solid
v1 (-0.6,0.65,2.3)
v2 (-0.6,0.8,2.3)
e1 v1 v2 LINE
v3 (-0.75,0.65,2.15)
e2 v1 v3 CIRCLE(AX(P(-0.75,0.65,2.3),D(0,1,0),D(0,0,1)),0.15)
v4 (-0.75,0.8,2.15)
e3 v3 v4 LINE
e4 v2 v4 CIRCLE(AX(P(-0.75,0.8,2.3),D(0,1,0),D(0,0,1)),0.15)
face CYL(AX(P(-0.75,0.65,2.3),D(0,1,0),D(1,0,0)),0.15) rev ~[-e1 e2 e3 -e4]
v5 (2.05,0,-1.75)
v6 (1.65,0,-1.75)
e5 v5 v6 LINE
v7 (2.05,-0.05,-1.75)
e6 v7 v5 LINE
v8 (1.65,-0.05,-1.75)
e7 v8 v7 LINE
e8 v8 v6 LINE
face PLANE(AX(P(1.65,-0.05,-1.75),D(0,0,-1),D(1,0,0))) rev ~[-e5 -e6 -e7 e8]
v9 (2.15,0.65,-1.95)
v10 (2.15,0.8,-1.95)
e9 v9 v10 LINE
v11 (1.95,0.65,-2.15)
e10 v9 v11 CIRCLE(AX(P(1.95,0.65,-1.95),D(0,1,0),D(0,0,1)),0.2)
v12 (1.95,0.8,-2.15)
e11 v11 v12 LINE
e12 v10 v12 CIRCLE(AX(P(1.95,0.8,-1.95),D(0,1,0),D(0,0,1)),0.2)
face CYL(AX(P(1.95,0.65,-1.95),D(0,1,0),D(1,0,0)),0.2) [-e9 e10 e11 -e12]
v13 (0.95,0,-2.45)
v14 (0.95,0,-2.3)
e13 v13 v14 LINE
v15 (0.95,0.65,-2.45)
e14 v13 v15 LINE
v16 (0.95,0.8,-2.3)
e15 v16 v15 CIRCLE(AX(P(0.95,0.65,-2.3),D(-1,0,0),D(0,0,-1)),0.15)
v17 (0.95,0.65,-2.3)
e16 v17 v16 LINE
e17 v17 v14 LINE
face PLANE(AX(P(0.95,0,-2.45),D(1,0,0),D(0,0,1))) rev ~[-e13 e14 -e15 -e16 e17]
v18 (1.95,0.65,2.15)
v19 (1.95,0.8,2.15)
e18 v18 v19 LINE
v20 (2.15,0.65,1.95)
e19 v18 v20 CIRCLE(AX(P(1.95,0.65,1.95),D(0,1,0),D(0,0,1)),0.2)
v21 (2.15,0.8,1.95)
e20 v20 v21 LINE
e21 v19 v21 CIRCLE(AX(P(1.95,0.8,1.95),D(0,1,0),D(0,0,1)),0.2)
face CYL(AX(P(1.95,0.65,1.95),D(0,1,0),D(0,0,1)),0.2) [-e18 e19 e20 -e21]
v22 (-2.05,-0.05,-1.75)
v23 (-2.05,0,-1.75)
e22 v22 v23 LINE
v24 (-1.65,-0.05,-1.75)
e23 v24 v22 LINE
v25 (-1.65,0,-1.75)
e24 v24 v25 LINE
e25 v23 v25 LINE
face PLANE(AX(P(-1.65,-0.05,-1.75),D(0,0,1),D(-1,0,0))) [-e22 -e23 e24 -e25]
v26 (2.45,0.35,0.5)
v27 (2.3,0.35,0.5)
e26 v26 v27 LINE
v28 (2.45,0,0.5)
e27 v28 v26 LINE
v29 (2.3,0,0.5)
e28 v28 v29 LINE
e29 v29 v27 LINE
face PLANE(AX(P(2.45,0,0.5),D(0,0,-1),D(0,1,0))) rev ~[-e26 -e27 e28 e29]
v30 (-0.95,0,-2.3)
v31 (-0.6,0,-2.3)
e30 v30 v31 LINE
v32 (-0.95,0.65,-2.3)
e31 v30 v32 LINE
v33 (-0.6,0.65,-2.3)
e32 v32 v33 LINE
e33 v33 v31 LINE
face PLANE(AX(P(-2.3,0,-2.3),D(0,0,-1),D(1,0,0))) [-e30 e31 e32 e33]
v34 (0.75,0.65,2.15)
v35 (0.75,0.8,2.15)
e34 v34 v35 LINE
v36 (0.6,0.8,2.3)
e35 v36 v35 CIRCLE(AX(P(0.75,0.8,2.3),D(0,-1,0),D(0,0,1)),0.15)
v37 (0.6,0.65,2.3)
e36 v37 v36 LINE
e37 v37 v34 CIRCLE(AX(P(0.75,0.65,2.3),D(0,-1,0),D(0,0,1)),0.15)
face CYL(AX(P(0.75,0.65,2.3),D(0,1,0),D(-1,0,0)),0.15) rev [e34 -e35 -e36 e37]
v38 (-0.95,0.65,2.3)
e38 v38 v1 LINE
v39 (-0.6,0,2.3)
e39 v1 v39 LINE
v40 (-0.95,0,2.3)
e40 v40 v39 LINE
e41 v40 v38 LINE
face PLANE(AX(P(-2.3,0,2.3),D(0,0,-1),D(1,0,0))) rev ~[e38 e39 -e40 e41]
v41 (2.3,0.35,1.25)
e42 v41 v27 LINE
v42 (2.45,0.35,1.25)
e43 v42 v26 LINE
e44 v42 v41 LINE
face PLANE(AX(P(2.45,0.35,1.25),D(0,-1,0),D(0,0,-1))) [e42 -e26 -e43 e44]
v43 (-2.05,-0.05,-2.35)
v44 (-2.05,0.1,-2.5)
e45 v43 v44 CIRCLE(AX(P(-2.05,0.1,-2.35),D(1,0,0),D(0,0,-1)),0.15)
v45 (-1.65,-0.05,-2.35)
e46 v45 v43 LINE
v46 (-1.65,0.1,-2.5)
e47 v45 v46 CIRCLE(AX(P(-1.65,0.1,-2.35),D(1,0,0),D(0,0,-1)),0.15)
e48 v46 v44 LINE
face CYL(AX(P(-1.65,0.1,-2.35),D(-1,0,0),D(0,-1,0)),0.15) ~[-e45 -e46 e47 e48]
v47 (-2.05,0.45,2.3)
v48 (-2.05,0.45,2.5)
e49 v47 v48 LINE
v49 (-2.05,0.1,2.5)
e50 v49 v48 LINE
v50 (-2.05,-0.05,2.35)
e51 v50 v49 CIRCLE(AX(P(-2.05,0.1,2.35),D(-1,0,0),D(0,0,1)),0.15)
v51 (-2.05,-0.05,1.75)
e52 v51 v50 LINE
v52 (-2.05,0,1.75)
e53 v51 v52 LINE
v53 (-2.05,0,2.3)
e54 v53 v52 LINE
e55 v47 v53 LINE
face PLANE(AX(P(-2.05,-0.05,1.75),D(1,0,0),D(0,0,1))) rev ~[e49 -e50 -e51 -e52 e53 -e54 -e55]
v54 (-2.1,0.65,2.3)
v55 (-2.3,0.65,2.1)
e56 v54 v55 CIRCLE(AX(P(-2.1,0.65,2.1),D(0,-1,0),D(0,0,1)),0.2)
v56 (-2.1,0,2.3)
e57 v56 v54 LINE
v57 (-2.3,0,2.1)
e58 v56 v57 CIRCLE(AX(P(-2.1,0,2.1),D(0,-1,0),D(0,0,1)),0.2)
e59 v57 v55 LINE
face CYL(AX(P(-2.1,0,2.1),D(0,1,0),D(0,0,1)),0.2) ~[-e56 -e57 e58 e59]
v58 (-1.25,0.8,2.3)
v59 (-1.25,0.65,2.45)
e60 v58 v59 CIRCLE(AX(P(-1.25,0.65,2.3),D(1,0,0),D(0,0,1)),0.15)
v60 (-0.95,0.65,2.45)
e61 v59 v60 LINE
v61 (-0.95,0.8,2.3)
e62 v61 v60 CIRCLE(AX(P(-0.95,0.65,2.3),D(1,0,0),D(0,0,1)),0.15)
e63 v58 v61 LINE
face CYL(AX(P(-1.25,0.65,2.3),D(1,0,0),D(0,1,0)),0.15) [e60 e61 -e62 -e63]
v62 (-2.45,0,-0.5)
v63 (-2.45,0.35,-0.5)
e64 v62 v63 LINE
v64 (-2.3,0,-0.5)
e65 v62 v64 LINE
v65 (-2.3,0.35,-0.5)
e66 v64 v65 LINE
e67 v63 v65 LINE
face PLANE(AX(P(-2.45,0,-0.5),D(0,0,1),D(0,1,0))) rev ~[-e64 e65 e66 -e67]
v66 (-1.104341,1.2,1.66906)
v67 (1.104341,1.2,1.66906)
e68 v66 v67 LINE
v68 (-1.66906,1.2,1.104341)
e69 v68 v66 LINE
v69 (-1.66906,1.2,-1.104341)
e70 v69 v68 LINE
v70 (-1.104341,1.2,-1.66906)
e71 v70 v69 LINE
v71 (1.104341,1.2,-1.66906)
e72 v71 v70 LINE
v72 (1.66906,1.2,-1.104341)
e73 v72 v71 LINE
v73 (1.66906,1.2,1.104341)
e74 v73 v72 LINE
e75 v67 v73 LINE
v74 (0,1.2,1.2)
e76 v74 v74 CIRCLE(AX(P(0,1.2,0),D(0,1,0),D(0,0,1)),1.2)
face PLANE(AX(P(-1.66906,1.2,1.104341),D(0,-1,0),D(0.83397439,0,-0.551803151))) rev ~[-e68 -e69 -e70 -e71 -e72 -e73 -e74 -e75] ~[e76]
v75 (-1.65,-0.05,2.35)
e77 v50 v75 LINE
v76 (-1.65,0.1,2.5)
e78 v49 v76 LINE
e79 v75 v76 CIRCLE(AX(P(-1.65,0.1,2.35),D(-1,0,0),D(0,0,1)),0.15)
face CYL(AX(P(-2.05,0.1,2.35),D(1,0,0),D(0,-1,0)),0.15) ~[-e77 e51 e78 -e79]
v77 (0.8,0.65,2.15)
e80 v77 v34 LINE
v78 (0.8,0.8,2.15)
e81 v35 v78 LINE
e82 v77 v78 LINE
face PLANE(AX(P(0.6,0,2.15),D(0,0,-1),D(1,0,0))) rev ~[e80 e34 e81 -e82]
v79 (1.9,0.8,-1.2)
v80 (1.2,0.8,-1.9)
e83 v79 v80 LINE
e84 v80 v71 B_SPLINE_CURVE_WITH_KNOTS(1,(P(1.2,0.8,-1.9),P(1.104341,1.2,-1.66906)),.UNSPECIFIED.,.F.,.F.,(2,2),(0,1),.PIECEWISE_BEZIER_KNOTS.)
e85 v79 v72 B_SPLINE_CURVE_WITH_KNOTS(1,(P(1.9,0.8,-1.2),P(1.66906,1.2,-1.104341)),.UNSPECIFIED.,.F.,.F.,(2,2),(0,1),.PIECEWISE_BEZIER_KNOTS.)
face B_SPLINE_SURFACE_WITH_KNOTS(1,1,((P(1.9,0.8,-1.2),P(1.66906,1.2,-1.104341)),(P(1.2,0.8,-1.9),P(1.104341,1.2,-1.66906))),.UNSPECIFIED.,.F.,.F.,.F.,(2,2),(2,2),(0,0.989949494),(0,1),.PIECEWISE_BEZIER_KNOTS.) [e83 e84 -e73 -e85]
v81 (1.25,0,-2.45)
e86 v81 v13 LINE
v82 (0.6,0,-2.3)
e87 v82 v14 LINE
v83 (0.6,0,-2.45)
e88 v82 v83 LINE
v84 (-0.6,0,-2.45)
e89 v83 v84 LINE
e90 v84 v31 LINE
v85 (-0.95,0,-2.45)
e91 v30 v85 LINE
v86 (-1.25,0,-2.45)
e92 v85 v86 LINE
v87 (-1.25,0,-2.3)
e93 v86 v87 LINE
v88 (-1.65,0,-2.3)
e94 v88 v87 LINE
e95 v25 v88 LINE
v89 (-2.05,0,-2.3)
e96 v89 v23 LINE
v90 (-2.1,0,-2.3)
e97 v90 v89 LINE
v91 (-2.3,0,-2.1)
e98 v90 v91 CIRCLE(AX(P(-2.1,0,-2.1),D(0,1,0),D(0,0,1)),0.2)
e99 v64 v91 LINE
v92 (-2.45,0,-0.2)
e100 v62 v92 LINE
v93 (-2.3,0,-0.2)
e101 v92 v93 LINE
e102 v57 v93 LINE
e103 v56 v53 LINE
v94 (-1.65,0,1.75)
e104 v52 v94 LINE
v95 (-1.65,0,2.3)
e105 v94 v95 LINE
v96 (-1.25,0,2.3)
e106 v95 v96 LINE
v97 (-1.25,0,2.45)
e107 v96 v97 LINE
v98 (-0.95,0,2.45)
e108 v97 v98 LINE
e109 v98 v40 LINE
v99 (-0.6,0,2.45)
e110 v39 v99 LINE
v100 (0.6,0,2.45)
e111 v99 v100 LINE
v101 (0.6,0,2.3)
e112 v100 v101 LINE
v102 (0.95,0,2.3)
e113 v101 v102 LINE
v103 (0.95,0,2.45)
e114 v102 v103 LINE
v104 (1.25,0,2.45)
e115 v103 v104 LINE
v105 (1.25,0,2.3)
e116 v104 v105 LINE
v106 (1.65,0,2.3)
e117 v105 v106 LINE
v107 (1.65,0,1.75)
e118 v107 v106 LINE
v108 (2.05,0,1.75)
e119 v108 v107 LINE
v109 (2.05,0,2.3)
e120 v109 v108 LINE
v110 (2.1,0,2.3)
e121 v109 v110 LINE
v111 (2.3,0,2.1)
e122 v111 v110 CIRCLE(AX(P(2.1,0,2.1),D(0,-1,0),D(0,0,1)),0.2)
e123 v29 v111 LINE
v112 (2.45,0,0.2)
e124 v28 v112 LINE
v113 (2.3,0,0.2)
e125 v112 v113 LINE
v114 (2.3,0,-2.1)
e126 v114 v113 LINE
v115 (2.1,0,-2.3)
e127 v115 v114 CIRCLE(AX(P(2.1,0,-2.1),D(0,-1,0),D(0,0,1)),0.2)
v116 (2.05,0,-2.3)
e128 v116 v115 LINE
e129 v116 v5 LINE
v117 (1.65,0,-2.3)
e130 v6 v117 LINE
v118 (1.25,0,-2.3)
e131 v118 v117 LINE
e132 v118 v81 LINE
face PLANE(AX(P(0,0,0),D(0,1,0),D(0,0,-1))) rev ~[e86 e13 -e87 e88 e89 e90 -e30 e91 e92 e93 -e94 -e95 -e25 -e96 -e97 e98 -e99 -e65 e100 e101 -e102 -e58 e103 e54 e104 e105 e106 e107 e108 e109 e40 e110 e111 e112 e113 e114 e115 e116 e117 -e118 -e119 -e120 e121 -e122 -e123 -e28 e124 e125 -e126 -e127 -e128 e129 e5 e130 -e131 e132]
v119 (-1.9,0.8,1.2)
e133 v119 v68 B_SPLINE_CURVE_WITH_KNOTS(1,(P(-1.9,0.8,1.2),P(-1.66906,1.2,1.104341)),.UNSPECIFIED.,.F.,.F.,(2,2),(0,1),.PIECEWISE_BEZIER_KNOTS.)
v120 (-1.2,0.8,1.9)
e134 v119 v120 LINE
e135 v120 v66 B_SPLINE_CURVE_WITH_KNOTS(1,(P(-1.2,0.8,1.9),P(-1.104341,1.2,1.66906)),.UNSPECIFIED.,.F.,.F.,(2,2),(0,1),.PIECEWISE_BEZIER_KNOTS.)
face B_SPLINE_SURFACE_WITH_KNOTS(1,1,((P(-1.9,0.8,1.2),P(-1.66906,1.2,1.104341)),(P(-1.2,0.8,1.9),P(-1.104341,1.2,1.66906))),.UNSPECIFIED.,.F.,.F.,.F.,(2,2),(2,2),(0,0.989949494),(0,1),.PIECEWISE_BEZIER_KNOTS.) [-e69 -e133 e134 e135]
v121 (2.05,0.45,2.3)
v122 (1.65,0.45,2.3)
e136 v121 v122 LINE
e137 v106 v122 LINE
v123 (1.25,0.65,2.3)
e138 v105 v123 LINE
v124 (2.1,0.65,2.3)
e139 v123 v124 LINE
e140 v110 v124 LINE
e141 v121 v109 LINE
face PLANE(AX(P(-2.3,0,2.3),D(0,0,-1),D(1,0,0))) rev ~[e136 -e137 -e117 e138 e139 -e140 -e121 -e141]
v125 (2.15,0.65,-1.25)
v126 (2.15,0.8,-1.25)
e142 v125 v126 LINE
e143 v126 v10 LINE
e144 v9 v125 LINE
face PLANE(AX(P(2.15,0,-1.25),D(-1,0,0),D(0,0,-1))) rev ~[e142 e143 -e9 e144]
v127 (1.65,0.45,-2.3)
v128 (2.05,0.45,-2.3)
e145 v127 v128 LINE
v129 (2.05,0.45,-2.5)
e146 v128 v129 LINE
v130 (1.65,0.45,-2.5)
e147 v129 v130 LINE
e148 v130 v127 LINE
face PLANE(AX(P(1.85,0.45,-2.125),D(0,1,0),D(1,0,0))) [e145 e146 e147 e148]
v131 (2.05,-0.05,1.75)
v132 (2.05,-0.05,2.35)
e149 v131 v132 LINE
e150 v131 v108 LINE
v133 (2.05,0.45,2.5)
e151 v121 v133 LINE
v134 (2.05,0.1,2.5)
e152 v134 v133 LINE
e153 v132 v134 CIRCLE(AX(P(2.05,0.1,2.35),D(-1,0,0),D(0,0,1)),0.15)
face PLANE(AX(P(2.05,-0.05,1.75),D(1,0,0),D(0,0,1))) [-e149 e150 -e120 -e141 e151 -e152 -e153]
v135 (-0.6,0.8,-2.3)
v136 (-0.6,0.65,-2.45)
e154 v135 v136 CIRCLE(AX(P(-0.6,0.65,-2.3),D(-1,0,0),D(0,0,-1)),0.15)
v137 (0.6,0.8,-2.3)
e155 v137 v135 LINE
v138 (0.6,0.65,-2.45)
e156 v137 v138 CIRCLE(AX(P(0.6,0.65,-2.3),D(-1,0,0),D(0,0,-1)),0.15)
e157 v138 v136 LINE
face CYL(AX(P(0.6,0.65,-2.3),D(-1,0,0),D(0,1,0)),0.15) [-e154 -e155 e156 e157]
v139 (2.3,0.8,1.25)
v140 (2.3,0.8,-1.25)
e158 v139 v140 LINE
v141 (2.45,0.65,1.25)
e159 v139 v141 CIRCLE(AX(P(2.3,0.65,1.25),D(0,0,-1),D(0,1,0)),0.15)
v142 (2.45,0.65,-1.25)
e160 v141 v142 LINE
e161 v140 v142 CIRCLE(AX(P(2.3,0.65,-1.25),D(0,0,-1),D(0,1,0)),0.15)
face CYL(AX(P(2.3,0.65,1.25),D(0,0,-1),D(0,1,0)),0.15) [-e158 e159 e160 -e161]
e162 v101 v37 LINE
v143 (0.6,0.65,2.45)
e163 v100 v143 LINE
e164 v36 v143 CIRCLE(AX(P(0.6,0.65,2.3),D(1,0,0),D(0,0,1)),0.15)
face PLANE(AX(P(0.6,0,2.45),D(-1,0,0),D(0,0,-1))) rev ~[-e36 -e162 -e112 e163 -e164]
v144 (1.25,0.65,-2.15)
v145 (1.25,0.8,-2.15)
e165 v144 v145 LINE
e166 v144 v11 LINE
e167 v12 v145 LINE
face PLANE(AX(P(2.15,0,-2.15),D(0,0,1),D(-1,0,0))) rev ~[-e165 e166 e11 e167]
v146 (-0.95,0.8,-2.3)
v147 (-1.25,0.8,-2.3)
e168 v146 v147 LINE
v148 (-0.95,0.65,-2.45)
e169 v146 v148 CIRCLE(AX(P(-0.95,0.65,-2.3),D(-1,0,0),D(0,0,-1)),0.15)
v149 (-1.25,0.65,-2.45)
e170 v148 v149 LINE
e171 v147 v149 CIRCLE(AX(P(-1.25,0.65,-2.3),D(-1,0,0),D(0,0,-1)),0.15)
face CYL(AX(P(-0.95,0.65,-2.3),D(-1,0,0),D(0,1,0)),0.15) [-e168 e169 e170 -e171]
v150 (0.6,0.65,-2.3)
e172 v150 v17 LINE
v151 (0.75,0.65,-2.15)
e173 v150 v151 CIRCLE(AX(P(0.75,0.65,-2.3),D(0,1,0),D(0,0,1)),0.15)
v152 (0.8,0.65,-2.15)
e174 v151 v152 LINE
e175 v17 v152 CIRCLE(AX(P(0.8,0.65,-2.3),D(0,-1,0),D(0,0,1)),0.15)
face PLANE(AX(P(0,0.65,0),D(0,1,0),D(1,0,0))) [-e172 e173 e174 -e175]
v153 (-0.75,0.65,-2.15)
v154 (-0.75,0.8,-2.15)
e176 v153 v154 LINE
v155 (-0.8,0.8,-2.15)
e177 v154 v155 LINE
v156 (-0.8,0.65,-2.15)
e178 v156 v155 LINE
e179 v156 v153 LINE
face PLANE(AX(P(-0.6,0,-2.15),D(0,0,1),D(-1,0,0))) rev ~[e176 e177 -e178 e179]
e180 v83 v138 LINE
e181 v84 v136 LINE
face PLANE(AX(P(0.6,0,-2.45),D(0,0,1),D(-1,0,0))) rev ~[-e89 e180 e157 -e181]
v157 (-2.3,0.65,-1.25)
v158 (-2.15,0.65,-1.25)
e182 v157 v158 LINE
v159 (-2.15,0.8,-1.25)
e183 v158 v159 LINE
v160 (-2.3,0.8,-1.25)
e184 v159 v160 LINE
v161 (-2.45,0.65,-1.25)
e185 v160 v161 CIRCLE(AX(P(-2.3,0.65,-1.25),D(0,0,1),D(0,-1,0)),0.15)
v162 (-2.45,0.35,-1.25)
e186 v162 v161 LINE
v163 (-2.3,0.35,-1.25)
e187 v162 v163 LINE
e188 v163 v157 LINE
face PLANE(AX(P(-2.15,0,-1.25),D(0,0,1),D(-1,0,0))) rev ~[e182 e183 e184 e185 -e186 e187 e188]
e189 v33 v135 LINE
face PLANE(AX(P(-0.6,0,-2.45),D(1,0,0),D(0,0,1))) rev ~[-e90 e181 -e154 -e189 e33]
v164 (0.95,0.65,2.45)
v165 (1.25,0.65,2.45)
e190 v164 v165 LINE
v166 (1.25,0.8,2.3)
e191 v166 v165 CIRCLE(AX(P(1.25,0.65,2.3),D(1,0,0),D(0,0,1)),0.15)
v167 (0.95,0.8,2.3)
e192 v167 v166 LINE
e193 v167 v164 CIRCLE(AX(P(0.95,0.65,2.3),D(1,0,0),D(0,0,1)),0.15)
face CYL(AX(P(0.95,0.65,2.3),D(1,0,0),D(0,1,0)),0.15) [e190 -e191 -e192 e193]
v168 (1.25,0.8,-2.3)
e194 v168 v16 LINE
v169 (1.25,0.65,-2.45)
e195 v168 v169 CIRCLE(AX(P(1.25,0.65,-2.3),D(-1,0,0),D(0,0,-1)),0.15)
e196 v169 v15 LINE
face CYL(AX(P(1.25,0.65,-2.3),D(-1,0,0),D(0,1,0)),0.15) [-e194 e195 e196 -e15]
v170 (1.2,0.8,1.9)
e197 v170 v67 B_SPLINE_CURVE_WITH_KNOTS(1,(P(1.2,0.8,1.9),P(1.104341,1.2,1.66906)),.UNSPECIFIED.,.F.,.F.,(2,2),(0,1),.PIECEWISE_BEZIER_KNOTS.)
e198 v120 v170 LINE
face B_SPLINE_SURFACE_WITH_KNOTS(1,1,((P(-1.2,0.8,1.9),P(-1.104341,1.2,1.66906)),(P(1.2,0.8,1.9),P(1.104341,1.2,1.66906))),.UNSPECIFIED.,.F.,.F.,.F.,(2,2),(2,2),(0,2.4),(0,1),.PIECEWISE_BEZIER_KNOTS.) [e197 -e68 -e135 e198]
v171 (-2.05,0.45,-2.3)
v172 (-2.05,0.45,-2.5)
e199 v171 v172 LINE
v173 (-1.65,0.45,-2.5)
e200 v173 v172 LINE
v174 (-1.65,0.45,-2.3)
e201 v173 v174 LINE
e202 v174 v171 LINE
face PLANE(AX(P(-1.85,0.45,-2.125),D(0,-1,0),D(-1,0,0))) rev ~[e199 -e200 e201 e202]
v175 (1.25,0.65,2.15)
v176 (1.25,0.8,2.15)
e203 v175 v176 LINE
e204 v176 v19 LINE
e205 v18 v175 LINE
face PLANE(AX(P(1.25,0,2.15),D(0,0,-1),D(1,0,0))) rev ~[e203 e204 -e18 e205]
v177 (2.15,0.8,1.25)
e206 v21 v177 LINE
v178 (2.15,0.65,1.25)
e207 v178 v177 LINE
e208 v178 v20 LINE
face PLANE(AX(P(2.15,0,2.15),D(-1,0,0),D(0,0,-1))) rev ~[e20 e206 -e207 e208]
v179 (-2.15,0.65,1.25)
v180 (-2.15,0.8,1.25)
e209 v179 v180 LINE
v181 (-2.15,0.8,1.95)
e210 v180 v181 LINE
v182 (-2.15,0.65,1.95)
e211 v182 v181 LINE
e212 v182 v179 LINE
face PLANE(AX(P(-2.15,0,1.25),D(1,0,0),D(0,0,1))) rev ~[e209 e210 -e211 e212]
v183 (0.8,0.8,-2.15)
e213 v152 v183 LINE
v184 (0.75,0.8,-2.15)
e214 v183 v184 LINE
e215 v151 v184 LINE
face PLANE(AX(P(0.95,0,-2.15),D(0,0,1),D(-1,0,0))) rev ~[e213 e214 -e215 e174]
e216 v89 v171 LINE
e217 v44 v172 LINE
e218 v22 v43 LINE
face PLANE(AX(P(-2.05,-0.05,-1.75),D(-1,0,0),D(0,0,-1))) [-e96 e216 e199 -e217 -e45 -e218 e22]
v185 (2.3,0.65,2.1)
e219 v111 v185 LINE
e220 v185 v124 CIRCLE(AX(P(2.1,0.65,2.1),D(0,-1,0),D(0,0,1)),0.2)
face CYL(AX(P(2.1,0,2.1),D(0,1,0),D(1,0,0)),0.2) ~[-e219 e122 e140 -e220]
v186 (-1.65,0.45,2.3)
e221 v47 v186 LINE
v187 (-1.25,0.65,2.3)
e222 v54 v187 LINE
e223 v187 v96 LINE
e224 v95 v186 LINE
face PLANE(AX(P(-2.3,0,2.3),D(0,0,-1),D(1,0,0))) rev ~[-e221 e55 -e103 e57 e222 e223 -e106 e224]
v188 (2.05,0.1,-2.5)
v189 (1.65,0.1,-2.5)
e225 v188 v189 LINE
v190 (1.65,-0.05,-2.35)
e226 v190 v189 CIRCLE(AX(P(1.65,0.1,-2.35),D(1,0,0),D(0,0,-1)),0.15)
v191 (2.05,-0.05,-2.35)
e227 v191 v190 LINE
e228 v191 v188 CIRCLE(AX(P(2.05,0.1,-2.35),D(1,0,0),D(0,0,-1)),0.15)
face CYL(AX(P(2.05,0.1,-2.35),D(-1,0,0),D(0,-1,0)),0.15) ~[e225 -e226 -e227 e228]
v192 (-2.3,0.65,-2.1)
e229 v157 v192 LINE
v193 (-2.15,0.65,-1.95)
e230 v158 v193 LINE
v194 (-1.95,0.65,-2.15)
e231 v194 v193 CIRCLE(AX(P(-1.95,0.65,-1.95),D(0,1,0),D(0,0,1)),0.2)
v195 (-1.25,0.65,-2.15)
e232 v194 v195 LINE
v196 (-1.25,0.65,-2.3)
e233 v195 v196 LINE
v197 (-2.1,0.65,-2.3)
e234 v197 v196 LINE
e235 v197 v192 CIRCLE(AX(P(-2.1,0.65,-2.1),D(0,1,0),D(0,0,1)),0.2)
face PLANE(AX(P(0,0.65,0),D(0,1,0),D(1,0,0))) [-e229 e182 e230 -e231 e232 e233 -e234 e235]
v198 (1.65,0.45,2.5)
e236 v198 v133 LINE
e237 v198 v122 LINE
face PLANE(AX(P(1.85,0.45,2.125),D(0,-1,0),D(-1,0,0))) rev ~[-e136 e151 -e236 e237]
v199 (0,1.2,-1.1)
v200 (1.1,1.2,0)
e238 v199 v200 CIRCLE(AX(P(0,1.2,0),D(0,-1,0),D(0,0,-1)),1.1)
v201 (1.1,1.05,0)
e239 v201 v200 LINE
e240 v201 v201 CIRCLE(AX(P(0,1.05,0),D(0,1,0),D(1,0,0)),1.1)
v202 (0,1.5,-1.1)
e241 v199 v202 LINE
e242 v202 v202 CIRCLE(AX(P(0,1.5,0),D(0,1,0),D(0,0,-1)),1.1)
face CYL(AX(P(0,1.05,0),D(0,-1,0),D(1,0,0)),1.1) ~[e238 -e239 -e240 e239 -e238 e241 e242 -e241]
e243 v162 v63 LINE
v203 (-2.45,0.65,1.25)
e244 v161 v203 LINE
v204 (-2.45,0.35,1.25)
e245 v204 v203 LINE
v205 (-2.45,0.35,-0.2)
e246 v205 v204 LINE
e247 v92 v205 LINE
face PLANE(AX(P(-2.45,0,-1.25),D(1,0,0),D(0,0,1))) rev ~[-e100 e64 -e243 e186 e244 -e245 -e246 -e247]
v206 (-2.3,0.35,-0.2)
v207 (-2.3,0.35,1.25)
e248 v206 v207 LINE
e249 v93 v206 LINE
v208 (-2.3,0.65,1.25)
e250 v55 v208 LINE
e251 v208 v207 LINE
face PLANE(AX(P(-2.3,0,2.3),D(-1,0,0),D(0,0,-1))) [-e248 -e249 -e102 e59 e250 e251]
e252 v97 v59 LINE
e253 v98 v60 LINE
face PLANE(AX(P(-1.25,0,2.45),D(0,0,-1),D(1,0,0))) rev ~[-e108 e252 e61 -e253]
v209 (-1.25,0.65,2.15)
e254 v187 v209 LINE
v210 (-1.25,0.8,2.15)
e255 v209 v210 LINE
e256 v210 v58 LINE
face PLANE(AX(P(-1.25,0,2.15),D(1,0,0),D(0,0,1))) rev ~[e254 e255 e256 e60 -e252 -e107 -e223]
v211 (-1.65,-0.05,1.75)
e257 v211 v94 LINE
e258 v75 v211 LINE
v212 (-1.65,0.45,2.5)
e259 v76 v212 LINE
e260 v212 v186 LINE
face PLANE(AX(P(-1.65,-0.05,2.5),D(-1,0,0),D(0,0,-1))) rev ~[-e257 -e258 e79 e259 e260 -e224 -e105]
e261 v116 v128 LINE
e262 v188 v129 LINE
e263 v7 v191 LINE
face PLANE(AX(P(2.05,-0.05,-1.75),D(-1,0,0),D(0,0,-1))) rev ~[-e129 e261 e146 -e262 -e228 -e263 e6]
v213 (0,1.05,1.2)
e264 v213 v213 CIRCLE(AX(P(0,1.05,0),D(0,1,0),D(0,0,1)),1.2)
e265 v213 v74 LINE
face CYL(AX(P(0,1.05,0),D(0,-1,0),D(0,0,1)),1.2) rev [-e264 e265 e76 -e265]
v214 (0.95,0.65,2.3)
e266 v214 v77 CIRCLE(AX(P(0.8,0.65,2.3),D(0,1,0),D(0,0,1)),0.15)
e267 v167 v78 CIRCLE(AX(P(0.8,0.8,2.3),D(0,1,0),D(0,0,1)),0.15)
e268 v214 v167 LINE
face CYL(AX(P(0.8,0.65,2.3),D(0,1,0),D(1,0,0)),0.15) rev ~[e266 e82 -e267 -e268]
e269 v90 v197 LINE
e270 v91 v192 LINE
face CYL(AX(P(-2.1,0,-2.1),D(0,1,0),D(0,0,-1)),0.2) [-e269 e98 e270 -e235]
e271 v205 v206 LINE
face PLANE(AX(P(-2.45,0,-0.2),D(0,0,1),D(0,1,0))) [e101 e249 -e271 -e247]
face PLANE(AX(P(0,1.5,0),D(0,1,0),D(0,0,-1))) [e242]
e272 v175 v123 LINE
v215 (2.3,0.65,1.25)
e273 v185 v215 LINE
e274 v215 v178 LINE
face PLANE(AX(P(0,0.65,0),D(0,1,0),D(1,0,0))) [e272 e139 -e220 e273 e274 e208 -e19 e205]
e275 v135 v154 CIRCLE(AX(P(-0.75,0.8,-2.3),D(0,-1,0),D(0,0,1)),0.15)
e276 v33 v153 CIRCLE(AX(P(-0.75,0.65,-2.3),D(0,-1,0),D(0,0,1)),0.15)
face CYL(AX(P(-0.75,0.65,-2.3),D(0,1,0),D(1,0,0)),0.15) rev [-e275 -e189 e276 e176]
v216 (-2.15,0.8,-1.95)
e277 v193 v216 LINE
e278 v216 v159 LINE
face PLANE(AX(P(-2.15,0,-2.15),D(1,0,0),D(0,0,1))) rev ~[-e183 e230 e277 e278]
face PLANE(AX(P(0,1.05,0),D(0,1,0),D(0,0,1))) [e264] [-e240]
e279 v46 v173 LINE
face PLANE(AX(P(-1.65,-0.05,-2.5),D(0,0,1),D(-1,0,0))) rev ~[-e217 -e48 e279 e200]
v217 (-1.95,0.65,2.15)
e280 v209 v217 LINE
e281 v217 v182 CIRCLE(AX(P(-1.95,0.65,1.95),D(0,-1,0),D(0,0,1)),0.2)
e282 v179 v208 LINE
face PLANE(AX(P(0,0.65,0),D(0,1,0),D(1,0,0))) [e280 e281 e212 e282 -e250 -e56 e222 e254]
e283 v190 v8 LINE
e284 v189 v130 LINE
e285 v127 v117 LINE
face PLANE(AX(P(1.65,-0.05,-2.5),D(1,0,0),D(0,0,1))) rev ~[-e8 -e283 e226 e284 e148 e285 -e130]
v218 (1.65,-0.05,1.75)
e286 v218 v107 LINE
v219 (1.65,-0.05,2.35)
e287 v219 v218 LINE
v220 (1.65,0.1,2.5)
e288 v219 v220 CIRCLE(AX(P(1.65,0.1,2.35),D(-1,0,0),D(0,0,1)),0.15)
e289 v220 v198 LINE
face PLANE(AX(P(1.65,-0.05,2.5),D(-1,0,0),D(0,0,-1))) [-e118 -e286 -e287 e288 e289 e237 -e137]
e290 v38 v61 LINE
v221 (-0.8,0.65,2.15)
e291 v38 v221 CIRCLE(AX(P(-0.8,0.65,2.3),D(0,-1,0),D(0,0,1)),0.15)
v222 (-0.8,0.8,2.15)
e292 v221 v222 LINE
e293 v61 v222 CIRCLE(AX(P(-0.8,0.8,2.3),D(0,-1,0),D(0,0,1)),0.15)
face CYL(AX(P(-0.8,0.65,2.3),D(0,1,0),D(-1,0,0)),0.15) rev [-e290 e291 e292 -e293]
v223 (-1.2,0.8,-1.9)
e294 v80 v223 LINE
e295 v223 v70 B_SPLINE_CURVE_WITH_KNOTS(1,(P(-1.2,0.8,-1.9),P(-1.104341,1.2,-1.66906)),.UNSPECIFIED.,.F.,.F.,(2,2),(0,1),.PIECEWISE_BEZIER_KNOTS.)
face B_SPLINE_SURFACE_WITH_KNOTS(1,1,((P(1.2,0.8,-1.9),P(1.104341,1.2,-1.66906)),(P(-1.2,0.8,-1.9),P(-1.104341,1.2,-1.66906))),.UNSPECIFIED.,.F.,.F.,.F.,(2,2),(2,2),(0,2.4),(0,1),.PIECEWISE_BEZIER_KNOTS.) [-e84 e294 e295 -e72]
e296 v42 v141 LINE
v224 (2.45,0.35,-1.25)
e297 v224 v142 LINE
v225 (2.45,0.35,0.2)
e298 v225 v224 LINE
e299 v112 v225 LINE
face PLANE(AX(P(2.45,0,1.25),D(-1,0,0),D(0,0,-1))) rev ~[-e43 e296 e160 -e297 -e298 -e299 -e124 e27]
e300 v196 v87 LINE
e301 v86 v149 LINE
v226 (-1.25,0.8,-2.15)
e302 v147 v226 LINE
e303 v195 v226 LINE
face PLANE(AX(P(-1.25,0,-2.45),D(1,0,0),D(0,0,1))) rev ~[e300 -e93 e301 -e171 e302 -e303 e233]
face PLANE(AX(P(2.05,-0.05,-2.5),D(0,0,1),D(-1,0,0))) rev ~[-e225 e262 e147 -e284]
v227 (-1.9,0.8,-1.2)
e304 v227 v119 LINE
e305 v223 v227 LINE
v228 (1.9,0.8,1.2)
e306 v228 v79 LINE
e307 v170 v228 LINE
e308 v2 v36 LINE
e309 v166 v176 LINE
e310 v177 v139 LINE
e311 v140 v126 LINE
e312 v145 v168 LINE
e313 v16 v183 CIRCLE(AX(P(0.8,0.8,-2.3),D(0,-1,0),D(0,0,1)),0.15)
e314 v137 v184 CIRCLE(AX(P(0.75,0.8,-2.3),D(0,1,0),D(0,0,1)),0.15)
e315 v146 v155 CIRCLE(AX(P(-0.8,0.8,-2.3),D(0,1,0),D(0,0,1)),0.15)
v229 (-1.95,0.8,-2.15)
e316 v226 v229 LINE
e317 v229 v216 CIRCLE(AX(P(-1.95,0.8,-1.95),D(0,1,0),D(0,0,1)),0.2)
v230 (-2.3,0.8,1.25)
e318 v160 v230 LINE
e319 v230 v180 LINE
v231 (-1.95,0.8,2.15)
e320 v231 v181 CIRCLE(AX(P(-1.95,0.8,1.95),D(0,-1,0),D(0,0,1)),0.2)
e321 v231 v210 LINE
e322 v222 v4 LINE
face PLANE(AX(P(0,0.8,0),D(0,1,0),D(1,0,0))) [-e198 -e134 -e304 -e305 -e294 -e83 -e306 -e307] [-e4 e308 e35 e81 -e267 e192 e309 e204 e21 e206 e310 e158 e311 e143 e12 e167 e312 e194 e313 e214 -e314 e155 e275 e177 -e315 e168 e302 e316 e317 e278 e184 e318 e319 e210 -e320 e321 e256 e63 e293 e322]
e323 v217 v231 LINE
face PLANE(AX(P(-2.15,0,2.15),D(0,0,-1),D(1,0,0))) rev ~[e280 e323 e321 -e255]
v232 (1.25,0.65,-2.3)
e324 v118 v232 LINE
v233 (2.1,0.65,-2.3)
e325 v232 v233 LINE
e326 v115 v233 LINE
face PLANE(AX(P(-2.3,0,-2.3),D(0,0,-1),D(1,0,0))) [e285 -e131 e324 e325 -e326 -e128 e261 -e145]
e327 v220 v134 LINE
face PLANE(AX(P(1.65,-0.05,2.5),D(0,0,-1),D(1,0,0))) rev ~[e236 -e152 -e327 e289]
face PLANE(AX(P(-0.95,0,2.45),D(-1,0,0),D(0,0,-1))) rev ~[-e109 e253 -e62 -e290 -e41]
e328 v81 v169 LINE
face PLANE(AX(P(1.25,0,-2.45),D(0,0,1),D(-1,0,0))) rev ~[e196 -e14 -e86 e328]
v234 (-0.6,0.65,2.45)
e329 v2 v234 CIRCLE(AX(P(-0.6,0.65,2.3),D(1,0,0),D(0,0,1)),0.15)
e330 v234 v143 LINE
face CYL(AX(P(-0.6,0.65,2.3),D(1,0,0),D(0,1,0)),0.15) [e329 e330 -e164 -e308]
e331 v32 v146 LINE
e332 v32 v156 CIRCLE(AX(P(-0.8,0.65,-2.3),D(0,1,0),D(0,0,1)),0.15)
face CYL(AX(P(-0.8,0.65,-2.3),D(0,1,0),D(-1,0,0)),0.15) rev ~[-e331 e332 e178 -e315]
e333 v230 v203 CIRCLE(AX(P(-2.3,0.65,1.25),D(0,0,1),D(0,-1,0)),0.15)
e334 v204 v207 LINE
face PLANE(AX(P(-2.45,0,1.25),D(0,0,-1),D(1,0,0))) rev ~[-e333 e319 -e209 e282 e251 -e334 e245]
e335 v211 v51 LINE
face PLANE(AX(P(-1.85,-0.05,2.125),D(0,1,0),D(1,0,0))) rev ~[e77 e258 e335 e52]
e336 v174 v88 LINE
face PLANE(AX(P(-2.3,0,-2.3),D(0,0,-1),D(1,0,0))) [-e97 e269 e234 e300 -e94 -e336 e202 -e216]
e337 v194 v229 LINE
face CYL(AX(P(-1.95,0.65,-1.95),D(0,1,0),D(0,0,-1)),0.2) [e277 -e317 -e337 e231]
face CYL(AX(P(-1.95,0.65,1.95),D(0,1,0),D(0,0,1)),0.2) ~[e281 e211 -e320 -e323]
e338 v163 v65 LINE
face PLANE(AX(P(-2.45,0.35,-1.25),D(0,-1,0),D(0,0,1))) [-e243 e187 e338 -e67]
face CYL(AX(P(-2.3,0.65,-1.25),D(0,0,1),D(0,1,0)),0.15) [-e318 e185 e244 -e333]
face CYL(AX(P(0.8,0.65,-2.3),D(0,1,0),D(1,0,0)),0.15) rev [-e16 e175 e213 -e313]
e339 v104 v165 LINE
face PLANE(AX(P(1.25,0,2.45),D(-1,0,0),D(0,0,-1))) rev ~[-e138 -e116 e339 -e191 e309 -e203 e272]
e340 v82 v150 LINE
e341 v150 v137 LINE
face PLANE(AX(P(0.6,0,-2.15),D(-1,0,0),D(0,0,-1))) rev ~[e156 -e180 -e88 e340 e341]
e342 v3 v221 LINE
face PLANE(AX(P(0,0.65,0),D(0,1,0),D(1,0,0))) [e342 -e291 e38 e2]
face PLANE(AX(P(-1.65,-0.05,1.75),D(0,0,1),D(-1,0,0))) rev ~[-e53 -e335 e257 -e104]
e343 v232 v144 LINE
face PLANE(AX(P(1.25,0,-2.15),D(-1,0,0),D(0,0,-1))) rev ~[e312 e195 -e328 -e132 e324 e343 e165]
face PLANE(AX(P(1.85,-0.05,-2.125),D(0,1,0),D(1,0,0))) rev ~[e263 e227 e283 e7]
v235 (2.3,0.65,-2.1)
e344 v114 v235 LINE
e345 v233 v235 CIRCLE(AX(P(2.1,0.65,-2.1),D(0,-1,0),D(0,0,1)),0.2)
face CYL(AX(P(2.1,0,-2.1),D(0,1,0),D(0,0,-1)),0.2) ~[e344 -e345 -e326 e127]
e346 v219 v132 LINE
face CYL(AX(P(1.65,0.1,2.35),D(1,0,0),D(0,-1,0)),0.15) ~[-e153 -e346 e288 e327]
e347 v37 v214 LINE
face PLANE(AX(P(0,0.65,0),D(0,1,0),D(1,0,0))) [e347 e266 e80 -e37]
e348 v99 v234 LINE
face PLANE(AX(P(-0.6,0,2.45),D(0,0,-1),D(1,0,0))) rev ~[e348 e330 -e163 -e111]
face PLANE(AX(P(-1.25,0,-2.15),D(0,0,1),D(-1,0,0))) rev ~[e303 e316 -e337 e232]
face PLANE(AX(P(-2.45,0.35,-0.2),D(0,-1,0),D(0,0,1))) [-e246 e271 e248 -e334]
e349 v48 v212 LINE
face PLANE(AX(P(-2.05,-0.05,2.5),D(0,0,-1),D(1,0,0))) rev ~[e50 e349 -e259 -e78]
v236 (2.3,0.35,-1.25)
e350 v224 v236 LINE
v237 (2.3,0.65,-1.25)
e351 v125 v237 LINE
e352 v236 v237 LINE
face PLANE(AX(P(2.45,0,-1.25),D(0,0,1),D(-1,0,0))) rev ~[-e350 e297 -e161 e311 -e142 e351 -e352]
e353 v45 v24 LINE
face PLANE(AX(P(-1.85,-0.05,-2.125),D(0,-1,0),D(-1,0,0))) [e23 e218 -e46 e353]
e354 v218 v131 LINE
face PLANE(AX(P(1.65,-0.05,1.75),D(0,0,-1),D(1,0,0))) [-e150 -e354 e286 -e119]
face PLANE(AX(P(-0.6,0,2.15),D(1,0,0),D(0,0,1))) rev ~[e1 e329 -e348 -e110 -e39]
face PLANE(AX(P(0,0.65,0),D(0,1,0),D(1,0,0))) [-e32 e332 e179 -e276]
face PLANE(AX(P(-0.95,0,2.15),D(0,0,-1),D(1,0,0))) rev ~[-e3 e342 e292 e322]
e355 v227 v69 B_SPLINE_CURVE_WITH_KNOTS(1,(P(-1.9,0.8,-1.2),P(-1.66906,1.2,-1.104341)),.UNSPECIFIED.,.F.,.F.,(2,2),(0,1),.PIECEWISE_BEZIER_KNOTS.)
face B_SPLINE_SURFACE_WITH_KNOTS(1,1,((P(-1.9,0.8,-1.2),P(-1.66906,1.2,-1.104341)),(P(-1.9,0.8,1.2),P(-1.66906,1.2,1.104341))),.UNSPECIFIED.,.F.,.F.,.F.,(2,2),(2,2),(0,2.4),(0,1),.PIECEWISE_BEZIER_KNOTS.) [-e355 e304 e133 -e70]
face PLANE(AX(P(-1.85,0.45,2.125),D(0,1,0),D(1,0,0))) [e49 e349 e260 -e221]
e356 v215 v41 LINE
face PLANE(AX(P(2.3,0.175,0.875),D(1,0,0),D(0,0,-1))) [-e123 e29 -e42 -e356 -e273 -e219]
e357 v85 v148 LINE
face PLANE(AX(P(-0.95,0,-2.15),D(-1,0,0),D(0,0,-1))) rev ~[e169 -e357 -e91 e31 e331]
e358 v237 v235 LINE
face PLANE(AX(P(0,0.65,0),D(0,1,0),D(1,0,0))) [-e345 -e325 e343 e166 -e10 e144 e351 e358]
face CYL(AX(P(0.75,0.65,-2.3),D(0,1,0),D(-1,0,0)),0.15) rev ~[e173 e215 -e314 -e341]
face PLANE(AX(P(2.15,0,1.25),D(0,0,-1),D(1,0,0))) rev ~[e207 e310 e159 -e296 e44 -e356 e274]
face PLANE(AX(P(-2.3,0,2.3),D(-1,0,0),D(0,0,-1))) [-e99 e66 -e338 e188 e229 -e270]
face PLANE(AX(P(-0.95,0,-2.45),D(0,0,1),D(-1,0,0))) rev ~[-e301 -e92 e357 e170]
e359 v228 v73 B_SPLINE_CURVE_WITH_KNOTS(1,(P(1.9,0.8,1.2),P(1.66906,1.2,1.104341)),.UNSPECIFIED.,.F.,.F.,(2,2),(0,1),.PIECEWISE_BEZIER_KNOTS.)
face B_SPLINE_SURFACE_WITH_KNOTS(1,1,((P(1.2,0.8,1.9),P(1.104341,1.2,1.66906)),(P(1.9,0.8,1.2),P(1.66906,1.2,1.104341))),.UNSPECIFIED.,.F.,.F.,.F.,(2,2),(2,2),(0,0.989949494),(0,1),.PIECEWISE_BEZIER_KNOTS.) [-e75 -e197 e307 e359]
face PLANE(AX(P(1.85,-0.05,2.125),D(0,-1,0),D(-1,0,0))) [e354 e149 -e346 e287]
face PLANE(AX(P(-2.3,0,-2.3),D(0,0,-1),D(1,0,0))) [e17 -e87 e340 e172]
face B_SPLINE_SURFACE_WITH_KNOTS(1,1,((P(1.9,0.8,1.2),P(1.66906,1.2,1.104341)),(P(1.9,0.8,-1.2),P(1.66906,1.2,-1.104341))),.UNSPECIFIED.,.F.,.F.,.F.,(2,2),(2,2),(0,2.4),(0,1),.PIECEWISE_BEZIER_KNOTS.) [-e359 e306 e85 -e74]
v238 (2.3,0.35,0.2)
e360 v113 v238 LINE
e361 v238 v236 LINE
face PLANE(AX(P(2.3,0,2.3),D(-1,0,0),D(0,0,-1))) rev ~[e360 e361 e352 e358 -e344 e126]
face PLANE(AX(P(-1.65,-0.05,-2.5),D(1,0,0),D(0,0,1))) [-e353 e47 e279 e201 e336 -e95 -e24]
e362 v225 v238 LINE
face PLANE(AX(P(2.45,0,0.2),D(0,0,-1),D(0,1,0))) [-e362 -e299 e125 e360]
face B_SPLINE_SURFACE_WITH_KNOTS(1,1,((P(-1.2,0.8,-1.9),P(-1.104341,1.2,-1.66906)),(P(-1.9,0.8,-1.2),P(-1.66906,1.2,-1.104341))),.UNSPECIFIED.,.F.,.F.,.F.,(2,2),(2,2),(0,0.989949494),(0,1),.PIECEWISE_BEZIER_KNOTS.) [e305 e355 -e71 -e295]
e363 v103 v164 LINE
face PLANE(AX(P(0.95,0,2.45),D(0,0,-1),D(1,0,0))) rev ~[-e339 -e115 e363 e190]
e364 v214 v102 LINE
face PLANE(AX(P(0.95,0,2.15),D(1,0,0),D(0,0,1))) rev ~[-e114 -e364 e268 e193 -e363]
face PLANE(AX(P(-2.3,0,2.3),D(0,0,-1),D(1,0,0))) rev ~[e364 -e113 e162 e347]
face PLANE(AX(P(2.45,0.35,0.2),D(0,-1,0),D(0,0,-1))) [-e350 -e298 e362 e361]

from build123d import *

# Parameters (mm, degrees)
SKETCH1_W           = 4.6
SKETCH1_H           = 4.6
EXTRUDE1_DEPTH      = 0.65
EXTRUDE2_DEPTH      = 0.8
EXTRUDE3_DEPTH      = 0.4
EXTRUDE3_TAPER      = 30
SKETCH1_4_R         = 1.1
EXTRUDE4_DEPTH      = 1.5
CUT_EXTRUDE1_START  = -0.15
SKETCH3_R           = 1.2
SKETCH3_R_2         = 1.1
CUT_EXTRUDE1_DEPTH  = 0.15
SKETCH4_W           = 0.75
SKETCH4_H           = 0.35
SKETCH4_W_2         = 1.45
CUT_EXTRUDE2_DEPTH  = 0.15
SKETCH5_W           = 0.75
SKETCH5_H           = 0.35
SKETCH5_W_2         = 1.45
CUT_EXTRUDE3_DEPTH  = 0.15
EXTRUDE5_DEPTH      = 0.45
EXTRUDE5_DEPTH_BACK = 0.05
FILLET1_R           = 0.2
FILLET2_R           = 0.15
FILLET3_R           = 0.15


with BuildPart() as part:
    # Sketch1 → Extrude1 (new body)
    with BuildSketch(Plane(origin=(0, 0, 0), x_dir=(1, 0, 0), z_dir=(0, 1, 0))):
        Rectangle(SKETCH1_W, SKETCH1_H)
    extrude(amount=EXTRUDE1_DEPTH)

    # Sketch1<3> → Extrude2 (add)
    with BuildSketch(Plane(origin=(0, 0, 0), x_dir=(1, 0, 0), z_dir=(0, 1, 0))):
        Polygon((-2.45, 1.25), (-2.45, -1.25), (-2.15, -1.25), (-2.15, -2.15), (-1.25, -2.15), (-1.25, -2.45), (-0.95, -2.45), (-0.95, -2.15), (-0.6, -2.15), (-0.6, -2.45), (0.6, -2.45), (0.6, -2.15), (0.95, -2.15), (0.95, -2.45), (1.25, -2.45), (1.25, -2.15), (2.15, -2.15), (2.15, -1.25), (2.45, -1.25), (2.45, 1.25), (2.15, 1.25), (2.15, 2.15), (1.25, 2.15), (1.25, 2.45), (0.95, 2.45), (0.95, 2.15), (0.6, 2.15), (0.6, 2.45), (-0.6, 2.45), (-0.6, 2.15), (-0.95, 2.15), (-0.95, 2.45), (-1.25, 2.45), (-1.25, 2.15), (-2.15, 2.15), (-2.15, 1.25), align=None)
    extrude(amount=EXTRUDE2_DEPTH)

    # Sketch2 → Extrude3 (add)
    with BuildSketch(Plane(origin=(0, 0.8, 0), x_dir=(-1, 0, 0), z_dir=(0, 1, 0))):
        Polygon((1.9, 1.2), (1.2, 1.9), (-1.2, 1.9), (-1.9, 1.2), (-1.9, -1.2), (-1.2, -1.9), (1.2, -1.9), (1.9, -1.2), align=None)
    extrude(amount=EXTRUDE3_DEPTH, taper=EXTRUDE3_TAPER)

    # Sketch1<4> → Extrude4 (add)
    with BuildSketch(Plane(origin=(0, 0, 0), x_dir=(1, 0, 0), z_dir=(0, 1, 0))):
        Circle(SKETCH1_4_R)
    extrude(amount=EXTRUDE4_DEPTH)

    # Sketch3 → Cut-Extrude1 (cut)
    with BuildSketch(Plane(origin=(0, 1.2, 0), x_dir=(-1, 0, 0), z_dir=(0, 1, 0)).offset(CUT_EXTRUDE1_START)):
        Circle(SKETCH3_R)
        Circle(SKETCH3_R_2, mode=Mode.SUBTRACT)
    extrude(amount=CUT_EXTRUDE1_DEPTH, mode=Mode.SUBTRACT)

    # Sketch4 → Cut-Extrude2 (cut)
    with BuildSketch(Plane(origin=(2.45, 0, 0), x_dir=(0, 0, -1), z_dir=(1, 0, 0))):
        with Locations((-0.875, 0.175)):
            Rectangle(SKETCH4_W, SKETCH4_H)
        with Locations((0.525, 0.175)):
            Rectangle(SKETCH4_W_2, SKETCH4_H)
    extrude(amount=-CUT_EXTRUDE2_DEPTH, mode=Mode.SUBTRACT)

    # Sketch5 → Cut-Extrude3 (cut)
    with BuildSketch(Plane.ZY.offset(2.45)):
        with Locations((-0.875, 0.175)):
            Rectangle(SKETCH5_W, SKETCH5_H)
        with Locations((0.525, 0.175)):
            Rectangle(SKETCH5_W_2, SKETCH5_H)
    extrude(amount=-CUT_EXTRUDE3_DEPTH, mode=Mode.SUBTRACT)

    # Sketch6 → Extrude5 (add, two sides: drawn at the far end of the back side and taken through both)
    with BuildSketch(Plane(origin=(0, 0, 0), x_dir=(1, 0, 0), z_dir=(0, 1, 0)).offset(-EXTRUDE5_DEPTH_BACK)):
        Polygon((2.05, 2.5), (1.85, 2.5), (1.65, 2.5), (1.65, 1.75), (2.05, 1.75), align=None)
        Polygon((-2.05, 2.5), (-1.85, 2.5), (-1.65, 2.5), (-1.65, 1.75), (-2.05, 1.75), align=None)
        Polygon((2.05, -2.5), (1.85, -2.5), (1.65, -2.5), (1.65, -1.75), (2.05, -1.75), align=None)
        Polygon((-1.85, -2.5), (-1.65, -2.5), (-1.65, -1.75), (-2.05, -1.75), (-2.05, -2.5), align=None)
    extrude(amount=EXTRUDE5_DEPTH + EXTRUDE5_DEPTH_BACK)

    # Fillet1
    fillet1_edges = [part.edges().sort_by_distance(p)[0] for p in [
        (-2.15, 0.725, -2.15),
        (-2.3, 0.325, -2.3),
        (2.15, 0.725, -2.15),
        (2.3, 0.325, -2.3),
        (2.15, 0.725, 2.15),
        (2.3, 0.325, 2.3),
        (-2.15, 0.725, 2.15),
        (-2.3, 0.325, 2.3),
    ]]
    fillet(fillet1_edges, radius=FILLET1_R)

    # Fillet2
    fillet2_edges = [part.edges().sort_by_distance(p)[0] for p in [
        (0.95, 0.725, 2.15),
        (0.6, 0.725, 2.15),
        (-0.6, 0.725, 2.15),
        (-0.95, 0.725, 2.15),
        (-0.95, 0.725, -2.15),
        (-0.6, 0.725, -2.15),
        (0.6, 0.725, -2.15),
        (0.95, 0.725, -2.15),
    ]]
    fillet(fillet2_edges, radius=FILLET2_R)

    # Fillet3
    fillet3_edges = [part.edges().sort_by_distance(p)[0] for p in [
        (1.85, -0.05, 2.5),
        (-1.85, -0.05, 2.5),
        (1.85, -0.05, -2.5),
        (-1.85, -0.05, -2.5),
        (-2.45, 0.8, 0),
        (-1.1, 0.8, -2.45),
        (0, 0.8, -2.45),
        (1.1, 0.8, -2.45),
        (2.45, 0.8, 0),
        (1.1, 0.8, 2.45),
        (-1.1, 0.8, 2.45),
        (0, 0.8, 2.45),
    ]]
    fillet(fillet3_edges, radius=FILLET3_R)


solid = part.part
